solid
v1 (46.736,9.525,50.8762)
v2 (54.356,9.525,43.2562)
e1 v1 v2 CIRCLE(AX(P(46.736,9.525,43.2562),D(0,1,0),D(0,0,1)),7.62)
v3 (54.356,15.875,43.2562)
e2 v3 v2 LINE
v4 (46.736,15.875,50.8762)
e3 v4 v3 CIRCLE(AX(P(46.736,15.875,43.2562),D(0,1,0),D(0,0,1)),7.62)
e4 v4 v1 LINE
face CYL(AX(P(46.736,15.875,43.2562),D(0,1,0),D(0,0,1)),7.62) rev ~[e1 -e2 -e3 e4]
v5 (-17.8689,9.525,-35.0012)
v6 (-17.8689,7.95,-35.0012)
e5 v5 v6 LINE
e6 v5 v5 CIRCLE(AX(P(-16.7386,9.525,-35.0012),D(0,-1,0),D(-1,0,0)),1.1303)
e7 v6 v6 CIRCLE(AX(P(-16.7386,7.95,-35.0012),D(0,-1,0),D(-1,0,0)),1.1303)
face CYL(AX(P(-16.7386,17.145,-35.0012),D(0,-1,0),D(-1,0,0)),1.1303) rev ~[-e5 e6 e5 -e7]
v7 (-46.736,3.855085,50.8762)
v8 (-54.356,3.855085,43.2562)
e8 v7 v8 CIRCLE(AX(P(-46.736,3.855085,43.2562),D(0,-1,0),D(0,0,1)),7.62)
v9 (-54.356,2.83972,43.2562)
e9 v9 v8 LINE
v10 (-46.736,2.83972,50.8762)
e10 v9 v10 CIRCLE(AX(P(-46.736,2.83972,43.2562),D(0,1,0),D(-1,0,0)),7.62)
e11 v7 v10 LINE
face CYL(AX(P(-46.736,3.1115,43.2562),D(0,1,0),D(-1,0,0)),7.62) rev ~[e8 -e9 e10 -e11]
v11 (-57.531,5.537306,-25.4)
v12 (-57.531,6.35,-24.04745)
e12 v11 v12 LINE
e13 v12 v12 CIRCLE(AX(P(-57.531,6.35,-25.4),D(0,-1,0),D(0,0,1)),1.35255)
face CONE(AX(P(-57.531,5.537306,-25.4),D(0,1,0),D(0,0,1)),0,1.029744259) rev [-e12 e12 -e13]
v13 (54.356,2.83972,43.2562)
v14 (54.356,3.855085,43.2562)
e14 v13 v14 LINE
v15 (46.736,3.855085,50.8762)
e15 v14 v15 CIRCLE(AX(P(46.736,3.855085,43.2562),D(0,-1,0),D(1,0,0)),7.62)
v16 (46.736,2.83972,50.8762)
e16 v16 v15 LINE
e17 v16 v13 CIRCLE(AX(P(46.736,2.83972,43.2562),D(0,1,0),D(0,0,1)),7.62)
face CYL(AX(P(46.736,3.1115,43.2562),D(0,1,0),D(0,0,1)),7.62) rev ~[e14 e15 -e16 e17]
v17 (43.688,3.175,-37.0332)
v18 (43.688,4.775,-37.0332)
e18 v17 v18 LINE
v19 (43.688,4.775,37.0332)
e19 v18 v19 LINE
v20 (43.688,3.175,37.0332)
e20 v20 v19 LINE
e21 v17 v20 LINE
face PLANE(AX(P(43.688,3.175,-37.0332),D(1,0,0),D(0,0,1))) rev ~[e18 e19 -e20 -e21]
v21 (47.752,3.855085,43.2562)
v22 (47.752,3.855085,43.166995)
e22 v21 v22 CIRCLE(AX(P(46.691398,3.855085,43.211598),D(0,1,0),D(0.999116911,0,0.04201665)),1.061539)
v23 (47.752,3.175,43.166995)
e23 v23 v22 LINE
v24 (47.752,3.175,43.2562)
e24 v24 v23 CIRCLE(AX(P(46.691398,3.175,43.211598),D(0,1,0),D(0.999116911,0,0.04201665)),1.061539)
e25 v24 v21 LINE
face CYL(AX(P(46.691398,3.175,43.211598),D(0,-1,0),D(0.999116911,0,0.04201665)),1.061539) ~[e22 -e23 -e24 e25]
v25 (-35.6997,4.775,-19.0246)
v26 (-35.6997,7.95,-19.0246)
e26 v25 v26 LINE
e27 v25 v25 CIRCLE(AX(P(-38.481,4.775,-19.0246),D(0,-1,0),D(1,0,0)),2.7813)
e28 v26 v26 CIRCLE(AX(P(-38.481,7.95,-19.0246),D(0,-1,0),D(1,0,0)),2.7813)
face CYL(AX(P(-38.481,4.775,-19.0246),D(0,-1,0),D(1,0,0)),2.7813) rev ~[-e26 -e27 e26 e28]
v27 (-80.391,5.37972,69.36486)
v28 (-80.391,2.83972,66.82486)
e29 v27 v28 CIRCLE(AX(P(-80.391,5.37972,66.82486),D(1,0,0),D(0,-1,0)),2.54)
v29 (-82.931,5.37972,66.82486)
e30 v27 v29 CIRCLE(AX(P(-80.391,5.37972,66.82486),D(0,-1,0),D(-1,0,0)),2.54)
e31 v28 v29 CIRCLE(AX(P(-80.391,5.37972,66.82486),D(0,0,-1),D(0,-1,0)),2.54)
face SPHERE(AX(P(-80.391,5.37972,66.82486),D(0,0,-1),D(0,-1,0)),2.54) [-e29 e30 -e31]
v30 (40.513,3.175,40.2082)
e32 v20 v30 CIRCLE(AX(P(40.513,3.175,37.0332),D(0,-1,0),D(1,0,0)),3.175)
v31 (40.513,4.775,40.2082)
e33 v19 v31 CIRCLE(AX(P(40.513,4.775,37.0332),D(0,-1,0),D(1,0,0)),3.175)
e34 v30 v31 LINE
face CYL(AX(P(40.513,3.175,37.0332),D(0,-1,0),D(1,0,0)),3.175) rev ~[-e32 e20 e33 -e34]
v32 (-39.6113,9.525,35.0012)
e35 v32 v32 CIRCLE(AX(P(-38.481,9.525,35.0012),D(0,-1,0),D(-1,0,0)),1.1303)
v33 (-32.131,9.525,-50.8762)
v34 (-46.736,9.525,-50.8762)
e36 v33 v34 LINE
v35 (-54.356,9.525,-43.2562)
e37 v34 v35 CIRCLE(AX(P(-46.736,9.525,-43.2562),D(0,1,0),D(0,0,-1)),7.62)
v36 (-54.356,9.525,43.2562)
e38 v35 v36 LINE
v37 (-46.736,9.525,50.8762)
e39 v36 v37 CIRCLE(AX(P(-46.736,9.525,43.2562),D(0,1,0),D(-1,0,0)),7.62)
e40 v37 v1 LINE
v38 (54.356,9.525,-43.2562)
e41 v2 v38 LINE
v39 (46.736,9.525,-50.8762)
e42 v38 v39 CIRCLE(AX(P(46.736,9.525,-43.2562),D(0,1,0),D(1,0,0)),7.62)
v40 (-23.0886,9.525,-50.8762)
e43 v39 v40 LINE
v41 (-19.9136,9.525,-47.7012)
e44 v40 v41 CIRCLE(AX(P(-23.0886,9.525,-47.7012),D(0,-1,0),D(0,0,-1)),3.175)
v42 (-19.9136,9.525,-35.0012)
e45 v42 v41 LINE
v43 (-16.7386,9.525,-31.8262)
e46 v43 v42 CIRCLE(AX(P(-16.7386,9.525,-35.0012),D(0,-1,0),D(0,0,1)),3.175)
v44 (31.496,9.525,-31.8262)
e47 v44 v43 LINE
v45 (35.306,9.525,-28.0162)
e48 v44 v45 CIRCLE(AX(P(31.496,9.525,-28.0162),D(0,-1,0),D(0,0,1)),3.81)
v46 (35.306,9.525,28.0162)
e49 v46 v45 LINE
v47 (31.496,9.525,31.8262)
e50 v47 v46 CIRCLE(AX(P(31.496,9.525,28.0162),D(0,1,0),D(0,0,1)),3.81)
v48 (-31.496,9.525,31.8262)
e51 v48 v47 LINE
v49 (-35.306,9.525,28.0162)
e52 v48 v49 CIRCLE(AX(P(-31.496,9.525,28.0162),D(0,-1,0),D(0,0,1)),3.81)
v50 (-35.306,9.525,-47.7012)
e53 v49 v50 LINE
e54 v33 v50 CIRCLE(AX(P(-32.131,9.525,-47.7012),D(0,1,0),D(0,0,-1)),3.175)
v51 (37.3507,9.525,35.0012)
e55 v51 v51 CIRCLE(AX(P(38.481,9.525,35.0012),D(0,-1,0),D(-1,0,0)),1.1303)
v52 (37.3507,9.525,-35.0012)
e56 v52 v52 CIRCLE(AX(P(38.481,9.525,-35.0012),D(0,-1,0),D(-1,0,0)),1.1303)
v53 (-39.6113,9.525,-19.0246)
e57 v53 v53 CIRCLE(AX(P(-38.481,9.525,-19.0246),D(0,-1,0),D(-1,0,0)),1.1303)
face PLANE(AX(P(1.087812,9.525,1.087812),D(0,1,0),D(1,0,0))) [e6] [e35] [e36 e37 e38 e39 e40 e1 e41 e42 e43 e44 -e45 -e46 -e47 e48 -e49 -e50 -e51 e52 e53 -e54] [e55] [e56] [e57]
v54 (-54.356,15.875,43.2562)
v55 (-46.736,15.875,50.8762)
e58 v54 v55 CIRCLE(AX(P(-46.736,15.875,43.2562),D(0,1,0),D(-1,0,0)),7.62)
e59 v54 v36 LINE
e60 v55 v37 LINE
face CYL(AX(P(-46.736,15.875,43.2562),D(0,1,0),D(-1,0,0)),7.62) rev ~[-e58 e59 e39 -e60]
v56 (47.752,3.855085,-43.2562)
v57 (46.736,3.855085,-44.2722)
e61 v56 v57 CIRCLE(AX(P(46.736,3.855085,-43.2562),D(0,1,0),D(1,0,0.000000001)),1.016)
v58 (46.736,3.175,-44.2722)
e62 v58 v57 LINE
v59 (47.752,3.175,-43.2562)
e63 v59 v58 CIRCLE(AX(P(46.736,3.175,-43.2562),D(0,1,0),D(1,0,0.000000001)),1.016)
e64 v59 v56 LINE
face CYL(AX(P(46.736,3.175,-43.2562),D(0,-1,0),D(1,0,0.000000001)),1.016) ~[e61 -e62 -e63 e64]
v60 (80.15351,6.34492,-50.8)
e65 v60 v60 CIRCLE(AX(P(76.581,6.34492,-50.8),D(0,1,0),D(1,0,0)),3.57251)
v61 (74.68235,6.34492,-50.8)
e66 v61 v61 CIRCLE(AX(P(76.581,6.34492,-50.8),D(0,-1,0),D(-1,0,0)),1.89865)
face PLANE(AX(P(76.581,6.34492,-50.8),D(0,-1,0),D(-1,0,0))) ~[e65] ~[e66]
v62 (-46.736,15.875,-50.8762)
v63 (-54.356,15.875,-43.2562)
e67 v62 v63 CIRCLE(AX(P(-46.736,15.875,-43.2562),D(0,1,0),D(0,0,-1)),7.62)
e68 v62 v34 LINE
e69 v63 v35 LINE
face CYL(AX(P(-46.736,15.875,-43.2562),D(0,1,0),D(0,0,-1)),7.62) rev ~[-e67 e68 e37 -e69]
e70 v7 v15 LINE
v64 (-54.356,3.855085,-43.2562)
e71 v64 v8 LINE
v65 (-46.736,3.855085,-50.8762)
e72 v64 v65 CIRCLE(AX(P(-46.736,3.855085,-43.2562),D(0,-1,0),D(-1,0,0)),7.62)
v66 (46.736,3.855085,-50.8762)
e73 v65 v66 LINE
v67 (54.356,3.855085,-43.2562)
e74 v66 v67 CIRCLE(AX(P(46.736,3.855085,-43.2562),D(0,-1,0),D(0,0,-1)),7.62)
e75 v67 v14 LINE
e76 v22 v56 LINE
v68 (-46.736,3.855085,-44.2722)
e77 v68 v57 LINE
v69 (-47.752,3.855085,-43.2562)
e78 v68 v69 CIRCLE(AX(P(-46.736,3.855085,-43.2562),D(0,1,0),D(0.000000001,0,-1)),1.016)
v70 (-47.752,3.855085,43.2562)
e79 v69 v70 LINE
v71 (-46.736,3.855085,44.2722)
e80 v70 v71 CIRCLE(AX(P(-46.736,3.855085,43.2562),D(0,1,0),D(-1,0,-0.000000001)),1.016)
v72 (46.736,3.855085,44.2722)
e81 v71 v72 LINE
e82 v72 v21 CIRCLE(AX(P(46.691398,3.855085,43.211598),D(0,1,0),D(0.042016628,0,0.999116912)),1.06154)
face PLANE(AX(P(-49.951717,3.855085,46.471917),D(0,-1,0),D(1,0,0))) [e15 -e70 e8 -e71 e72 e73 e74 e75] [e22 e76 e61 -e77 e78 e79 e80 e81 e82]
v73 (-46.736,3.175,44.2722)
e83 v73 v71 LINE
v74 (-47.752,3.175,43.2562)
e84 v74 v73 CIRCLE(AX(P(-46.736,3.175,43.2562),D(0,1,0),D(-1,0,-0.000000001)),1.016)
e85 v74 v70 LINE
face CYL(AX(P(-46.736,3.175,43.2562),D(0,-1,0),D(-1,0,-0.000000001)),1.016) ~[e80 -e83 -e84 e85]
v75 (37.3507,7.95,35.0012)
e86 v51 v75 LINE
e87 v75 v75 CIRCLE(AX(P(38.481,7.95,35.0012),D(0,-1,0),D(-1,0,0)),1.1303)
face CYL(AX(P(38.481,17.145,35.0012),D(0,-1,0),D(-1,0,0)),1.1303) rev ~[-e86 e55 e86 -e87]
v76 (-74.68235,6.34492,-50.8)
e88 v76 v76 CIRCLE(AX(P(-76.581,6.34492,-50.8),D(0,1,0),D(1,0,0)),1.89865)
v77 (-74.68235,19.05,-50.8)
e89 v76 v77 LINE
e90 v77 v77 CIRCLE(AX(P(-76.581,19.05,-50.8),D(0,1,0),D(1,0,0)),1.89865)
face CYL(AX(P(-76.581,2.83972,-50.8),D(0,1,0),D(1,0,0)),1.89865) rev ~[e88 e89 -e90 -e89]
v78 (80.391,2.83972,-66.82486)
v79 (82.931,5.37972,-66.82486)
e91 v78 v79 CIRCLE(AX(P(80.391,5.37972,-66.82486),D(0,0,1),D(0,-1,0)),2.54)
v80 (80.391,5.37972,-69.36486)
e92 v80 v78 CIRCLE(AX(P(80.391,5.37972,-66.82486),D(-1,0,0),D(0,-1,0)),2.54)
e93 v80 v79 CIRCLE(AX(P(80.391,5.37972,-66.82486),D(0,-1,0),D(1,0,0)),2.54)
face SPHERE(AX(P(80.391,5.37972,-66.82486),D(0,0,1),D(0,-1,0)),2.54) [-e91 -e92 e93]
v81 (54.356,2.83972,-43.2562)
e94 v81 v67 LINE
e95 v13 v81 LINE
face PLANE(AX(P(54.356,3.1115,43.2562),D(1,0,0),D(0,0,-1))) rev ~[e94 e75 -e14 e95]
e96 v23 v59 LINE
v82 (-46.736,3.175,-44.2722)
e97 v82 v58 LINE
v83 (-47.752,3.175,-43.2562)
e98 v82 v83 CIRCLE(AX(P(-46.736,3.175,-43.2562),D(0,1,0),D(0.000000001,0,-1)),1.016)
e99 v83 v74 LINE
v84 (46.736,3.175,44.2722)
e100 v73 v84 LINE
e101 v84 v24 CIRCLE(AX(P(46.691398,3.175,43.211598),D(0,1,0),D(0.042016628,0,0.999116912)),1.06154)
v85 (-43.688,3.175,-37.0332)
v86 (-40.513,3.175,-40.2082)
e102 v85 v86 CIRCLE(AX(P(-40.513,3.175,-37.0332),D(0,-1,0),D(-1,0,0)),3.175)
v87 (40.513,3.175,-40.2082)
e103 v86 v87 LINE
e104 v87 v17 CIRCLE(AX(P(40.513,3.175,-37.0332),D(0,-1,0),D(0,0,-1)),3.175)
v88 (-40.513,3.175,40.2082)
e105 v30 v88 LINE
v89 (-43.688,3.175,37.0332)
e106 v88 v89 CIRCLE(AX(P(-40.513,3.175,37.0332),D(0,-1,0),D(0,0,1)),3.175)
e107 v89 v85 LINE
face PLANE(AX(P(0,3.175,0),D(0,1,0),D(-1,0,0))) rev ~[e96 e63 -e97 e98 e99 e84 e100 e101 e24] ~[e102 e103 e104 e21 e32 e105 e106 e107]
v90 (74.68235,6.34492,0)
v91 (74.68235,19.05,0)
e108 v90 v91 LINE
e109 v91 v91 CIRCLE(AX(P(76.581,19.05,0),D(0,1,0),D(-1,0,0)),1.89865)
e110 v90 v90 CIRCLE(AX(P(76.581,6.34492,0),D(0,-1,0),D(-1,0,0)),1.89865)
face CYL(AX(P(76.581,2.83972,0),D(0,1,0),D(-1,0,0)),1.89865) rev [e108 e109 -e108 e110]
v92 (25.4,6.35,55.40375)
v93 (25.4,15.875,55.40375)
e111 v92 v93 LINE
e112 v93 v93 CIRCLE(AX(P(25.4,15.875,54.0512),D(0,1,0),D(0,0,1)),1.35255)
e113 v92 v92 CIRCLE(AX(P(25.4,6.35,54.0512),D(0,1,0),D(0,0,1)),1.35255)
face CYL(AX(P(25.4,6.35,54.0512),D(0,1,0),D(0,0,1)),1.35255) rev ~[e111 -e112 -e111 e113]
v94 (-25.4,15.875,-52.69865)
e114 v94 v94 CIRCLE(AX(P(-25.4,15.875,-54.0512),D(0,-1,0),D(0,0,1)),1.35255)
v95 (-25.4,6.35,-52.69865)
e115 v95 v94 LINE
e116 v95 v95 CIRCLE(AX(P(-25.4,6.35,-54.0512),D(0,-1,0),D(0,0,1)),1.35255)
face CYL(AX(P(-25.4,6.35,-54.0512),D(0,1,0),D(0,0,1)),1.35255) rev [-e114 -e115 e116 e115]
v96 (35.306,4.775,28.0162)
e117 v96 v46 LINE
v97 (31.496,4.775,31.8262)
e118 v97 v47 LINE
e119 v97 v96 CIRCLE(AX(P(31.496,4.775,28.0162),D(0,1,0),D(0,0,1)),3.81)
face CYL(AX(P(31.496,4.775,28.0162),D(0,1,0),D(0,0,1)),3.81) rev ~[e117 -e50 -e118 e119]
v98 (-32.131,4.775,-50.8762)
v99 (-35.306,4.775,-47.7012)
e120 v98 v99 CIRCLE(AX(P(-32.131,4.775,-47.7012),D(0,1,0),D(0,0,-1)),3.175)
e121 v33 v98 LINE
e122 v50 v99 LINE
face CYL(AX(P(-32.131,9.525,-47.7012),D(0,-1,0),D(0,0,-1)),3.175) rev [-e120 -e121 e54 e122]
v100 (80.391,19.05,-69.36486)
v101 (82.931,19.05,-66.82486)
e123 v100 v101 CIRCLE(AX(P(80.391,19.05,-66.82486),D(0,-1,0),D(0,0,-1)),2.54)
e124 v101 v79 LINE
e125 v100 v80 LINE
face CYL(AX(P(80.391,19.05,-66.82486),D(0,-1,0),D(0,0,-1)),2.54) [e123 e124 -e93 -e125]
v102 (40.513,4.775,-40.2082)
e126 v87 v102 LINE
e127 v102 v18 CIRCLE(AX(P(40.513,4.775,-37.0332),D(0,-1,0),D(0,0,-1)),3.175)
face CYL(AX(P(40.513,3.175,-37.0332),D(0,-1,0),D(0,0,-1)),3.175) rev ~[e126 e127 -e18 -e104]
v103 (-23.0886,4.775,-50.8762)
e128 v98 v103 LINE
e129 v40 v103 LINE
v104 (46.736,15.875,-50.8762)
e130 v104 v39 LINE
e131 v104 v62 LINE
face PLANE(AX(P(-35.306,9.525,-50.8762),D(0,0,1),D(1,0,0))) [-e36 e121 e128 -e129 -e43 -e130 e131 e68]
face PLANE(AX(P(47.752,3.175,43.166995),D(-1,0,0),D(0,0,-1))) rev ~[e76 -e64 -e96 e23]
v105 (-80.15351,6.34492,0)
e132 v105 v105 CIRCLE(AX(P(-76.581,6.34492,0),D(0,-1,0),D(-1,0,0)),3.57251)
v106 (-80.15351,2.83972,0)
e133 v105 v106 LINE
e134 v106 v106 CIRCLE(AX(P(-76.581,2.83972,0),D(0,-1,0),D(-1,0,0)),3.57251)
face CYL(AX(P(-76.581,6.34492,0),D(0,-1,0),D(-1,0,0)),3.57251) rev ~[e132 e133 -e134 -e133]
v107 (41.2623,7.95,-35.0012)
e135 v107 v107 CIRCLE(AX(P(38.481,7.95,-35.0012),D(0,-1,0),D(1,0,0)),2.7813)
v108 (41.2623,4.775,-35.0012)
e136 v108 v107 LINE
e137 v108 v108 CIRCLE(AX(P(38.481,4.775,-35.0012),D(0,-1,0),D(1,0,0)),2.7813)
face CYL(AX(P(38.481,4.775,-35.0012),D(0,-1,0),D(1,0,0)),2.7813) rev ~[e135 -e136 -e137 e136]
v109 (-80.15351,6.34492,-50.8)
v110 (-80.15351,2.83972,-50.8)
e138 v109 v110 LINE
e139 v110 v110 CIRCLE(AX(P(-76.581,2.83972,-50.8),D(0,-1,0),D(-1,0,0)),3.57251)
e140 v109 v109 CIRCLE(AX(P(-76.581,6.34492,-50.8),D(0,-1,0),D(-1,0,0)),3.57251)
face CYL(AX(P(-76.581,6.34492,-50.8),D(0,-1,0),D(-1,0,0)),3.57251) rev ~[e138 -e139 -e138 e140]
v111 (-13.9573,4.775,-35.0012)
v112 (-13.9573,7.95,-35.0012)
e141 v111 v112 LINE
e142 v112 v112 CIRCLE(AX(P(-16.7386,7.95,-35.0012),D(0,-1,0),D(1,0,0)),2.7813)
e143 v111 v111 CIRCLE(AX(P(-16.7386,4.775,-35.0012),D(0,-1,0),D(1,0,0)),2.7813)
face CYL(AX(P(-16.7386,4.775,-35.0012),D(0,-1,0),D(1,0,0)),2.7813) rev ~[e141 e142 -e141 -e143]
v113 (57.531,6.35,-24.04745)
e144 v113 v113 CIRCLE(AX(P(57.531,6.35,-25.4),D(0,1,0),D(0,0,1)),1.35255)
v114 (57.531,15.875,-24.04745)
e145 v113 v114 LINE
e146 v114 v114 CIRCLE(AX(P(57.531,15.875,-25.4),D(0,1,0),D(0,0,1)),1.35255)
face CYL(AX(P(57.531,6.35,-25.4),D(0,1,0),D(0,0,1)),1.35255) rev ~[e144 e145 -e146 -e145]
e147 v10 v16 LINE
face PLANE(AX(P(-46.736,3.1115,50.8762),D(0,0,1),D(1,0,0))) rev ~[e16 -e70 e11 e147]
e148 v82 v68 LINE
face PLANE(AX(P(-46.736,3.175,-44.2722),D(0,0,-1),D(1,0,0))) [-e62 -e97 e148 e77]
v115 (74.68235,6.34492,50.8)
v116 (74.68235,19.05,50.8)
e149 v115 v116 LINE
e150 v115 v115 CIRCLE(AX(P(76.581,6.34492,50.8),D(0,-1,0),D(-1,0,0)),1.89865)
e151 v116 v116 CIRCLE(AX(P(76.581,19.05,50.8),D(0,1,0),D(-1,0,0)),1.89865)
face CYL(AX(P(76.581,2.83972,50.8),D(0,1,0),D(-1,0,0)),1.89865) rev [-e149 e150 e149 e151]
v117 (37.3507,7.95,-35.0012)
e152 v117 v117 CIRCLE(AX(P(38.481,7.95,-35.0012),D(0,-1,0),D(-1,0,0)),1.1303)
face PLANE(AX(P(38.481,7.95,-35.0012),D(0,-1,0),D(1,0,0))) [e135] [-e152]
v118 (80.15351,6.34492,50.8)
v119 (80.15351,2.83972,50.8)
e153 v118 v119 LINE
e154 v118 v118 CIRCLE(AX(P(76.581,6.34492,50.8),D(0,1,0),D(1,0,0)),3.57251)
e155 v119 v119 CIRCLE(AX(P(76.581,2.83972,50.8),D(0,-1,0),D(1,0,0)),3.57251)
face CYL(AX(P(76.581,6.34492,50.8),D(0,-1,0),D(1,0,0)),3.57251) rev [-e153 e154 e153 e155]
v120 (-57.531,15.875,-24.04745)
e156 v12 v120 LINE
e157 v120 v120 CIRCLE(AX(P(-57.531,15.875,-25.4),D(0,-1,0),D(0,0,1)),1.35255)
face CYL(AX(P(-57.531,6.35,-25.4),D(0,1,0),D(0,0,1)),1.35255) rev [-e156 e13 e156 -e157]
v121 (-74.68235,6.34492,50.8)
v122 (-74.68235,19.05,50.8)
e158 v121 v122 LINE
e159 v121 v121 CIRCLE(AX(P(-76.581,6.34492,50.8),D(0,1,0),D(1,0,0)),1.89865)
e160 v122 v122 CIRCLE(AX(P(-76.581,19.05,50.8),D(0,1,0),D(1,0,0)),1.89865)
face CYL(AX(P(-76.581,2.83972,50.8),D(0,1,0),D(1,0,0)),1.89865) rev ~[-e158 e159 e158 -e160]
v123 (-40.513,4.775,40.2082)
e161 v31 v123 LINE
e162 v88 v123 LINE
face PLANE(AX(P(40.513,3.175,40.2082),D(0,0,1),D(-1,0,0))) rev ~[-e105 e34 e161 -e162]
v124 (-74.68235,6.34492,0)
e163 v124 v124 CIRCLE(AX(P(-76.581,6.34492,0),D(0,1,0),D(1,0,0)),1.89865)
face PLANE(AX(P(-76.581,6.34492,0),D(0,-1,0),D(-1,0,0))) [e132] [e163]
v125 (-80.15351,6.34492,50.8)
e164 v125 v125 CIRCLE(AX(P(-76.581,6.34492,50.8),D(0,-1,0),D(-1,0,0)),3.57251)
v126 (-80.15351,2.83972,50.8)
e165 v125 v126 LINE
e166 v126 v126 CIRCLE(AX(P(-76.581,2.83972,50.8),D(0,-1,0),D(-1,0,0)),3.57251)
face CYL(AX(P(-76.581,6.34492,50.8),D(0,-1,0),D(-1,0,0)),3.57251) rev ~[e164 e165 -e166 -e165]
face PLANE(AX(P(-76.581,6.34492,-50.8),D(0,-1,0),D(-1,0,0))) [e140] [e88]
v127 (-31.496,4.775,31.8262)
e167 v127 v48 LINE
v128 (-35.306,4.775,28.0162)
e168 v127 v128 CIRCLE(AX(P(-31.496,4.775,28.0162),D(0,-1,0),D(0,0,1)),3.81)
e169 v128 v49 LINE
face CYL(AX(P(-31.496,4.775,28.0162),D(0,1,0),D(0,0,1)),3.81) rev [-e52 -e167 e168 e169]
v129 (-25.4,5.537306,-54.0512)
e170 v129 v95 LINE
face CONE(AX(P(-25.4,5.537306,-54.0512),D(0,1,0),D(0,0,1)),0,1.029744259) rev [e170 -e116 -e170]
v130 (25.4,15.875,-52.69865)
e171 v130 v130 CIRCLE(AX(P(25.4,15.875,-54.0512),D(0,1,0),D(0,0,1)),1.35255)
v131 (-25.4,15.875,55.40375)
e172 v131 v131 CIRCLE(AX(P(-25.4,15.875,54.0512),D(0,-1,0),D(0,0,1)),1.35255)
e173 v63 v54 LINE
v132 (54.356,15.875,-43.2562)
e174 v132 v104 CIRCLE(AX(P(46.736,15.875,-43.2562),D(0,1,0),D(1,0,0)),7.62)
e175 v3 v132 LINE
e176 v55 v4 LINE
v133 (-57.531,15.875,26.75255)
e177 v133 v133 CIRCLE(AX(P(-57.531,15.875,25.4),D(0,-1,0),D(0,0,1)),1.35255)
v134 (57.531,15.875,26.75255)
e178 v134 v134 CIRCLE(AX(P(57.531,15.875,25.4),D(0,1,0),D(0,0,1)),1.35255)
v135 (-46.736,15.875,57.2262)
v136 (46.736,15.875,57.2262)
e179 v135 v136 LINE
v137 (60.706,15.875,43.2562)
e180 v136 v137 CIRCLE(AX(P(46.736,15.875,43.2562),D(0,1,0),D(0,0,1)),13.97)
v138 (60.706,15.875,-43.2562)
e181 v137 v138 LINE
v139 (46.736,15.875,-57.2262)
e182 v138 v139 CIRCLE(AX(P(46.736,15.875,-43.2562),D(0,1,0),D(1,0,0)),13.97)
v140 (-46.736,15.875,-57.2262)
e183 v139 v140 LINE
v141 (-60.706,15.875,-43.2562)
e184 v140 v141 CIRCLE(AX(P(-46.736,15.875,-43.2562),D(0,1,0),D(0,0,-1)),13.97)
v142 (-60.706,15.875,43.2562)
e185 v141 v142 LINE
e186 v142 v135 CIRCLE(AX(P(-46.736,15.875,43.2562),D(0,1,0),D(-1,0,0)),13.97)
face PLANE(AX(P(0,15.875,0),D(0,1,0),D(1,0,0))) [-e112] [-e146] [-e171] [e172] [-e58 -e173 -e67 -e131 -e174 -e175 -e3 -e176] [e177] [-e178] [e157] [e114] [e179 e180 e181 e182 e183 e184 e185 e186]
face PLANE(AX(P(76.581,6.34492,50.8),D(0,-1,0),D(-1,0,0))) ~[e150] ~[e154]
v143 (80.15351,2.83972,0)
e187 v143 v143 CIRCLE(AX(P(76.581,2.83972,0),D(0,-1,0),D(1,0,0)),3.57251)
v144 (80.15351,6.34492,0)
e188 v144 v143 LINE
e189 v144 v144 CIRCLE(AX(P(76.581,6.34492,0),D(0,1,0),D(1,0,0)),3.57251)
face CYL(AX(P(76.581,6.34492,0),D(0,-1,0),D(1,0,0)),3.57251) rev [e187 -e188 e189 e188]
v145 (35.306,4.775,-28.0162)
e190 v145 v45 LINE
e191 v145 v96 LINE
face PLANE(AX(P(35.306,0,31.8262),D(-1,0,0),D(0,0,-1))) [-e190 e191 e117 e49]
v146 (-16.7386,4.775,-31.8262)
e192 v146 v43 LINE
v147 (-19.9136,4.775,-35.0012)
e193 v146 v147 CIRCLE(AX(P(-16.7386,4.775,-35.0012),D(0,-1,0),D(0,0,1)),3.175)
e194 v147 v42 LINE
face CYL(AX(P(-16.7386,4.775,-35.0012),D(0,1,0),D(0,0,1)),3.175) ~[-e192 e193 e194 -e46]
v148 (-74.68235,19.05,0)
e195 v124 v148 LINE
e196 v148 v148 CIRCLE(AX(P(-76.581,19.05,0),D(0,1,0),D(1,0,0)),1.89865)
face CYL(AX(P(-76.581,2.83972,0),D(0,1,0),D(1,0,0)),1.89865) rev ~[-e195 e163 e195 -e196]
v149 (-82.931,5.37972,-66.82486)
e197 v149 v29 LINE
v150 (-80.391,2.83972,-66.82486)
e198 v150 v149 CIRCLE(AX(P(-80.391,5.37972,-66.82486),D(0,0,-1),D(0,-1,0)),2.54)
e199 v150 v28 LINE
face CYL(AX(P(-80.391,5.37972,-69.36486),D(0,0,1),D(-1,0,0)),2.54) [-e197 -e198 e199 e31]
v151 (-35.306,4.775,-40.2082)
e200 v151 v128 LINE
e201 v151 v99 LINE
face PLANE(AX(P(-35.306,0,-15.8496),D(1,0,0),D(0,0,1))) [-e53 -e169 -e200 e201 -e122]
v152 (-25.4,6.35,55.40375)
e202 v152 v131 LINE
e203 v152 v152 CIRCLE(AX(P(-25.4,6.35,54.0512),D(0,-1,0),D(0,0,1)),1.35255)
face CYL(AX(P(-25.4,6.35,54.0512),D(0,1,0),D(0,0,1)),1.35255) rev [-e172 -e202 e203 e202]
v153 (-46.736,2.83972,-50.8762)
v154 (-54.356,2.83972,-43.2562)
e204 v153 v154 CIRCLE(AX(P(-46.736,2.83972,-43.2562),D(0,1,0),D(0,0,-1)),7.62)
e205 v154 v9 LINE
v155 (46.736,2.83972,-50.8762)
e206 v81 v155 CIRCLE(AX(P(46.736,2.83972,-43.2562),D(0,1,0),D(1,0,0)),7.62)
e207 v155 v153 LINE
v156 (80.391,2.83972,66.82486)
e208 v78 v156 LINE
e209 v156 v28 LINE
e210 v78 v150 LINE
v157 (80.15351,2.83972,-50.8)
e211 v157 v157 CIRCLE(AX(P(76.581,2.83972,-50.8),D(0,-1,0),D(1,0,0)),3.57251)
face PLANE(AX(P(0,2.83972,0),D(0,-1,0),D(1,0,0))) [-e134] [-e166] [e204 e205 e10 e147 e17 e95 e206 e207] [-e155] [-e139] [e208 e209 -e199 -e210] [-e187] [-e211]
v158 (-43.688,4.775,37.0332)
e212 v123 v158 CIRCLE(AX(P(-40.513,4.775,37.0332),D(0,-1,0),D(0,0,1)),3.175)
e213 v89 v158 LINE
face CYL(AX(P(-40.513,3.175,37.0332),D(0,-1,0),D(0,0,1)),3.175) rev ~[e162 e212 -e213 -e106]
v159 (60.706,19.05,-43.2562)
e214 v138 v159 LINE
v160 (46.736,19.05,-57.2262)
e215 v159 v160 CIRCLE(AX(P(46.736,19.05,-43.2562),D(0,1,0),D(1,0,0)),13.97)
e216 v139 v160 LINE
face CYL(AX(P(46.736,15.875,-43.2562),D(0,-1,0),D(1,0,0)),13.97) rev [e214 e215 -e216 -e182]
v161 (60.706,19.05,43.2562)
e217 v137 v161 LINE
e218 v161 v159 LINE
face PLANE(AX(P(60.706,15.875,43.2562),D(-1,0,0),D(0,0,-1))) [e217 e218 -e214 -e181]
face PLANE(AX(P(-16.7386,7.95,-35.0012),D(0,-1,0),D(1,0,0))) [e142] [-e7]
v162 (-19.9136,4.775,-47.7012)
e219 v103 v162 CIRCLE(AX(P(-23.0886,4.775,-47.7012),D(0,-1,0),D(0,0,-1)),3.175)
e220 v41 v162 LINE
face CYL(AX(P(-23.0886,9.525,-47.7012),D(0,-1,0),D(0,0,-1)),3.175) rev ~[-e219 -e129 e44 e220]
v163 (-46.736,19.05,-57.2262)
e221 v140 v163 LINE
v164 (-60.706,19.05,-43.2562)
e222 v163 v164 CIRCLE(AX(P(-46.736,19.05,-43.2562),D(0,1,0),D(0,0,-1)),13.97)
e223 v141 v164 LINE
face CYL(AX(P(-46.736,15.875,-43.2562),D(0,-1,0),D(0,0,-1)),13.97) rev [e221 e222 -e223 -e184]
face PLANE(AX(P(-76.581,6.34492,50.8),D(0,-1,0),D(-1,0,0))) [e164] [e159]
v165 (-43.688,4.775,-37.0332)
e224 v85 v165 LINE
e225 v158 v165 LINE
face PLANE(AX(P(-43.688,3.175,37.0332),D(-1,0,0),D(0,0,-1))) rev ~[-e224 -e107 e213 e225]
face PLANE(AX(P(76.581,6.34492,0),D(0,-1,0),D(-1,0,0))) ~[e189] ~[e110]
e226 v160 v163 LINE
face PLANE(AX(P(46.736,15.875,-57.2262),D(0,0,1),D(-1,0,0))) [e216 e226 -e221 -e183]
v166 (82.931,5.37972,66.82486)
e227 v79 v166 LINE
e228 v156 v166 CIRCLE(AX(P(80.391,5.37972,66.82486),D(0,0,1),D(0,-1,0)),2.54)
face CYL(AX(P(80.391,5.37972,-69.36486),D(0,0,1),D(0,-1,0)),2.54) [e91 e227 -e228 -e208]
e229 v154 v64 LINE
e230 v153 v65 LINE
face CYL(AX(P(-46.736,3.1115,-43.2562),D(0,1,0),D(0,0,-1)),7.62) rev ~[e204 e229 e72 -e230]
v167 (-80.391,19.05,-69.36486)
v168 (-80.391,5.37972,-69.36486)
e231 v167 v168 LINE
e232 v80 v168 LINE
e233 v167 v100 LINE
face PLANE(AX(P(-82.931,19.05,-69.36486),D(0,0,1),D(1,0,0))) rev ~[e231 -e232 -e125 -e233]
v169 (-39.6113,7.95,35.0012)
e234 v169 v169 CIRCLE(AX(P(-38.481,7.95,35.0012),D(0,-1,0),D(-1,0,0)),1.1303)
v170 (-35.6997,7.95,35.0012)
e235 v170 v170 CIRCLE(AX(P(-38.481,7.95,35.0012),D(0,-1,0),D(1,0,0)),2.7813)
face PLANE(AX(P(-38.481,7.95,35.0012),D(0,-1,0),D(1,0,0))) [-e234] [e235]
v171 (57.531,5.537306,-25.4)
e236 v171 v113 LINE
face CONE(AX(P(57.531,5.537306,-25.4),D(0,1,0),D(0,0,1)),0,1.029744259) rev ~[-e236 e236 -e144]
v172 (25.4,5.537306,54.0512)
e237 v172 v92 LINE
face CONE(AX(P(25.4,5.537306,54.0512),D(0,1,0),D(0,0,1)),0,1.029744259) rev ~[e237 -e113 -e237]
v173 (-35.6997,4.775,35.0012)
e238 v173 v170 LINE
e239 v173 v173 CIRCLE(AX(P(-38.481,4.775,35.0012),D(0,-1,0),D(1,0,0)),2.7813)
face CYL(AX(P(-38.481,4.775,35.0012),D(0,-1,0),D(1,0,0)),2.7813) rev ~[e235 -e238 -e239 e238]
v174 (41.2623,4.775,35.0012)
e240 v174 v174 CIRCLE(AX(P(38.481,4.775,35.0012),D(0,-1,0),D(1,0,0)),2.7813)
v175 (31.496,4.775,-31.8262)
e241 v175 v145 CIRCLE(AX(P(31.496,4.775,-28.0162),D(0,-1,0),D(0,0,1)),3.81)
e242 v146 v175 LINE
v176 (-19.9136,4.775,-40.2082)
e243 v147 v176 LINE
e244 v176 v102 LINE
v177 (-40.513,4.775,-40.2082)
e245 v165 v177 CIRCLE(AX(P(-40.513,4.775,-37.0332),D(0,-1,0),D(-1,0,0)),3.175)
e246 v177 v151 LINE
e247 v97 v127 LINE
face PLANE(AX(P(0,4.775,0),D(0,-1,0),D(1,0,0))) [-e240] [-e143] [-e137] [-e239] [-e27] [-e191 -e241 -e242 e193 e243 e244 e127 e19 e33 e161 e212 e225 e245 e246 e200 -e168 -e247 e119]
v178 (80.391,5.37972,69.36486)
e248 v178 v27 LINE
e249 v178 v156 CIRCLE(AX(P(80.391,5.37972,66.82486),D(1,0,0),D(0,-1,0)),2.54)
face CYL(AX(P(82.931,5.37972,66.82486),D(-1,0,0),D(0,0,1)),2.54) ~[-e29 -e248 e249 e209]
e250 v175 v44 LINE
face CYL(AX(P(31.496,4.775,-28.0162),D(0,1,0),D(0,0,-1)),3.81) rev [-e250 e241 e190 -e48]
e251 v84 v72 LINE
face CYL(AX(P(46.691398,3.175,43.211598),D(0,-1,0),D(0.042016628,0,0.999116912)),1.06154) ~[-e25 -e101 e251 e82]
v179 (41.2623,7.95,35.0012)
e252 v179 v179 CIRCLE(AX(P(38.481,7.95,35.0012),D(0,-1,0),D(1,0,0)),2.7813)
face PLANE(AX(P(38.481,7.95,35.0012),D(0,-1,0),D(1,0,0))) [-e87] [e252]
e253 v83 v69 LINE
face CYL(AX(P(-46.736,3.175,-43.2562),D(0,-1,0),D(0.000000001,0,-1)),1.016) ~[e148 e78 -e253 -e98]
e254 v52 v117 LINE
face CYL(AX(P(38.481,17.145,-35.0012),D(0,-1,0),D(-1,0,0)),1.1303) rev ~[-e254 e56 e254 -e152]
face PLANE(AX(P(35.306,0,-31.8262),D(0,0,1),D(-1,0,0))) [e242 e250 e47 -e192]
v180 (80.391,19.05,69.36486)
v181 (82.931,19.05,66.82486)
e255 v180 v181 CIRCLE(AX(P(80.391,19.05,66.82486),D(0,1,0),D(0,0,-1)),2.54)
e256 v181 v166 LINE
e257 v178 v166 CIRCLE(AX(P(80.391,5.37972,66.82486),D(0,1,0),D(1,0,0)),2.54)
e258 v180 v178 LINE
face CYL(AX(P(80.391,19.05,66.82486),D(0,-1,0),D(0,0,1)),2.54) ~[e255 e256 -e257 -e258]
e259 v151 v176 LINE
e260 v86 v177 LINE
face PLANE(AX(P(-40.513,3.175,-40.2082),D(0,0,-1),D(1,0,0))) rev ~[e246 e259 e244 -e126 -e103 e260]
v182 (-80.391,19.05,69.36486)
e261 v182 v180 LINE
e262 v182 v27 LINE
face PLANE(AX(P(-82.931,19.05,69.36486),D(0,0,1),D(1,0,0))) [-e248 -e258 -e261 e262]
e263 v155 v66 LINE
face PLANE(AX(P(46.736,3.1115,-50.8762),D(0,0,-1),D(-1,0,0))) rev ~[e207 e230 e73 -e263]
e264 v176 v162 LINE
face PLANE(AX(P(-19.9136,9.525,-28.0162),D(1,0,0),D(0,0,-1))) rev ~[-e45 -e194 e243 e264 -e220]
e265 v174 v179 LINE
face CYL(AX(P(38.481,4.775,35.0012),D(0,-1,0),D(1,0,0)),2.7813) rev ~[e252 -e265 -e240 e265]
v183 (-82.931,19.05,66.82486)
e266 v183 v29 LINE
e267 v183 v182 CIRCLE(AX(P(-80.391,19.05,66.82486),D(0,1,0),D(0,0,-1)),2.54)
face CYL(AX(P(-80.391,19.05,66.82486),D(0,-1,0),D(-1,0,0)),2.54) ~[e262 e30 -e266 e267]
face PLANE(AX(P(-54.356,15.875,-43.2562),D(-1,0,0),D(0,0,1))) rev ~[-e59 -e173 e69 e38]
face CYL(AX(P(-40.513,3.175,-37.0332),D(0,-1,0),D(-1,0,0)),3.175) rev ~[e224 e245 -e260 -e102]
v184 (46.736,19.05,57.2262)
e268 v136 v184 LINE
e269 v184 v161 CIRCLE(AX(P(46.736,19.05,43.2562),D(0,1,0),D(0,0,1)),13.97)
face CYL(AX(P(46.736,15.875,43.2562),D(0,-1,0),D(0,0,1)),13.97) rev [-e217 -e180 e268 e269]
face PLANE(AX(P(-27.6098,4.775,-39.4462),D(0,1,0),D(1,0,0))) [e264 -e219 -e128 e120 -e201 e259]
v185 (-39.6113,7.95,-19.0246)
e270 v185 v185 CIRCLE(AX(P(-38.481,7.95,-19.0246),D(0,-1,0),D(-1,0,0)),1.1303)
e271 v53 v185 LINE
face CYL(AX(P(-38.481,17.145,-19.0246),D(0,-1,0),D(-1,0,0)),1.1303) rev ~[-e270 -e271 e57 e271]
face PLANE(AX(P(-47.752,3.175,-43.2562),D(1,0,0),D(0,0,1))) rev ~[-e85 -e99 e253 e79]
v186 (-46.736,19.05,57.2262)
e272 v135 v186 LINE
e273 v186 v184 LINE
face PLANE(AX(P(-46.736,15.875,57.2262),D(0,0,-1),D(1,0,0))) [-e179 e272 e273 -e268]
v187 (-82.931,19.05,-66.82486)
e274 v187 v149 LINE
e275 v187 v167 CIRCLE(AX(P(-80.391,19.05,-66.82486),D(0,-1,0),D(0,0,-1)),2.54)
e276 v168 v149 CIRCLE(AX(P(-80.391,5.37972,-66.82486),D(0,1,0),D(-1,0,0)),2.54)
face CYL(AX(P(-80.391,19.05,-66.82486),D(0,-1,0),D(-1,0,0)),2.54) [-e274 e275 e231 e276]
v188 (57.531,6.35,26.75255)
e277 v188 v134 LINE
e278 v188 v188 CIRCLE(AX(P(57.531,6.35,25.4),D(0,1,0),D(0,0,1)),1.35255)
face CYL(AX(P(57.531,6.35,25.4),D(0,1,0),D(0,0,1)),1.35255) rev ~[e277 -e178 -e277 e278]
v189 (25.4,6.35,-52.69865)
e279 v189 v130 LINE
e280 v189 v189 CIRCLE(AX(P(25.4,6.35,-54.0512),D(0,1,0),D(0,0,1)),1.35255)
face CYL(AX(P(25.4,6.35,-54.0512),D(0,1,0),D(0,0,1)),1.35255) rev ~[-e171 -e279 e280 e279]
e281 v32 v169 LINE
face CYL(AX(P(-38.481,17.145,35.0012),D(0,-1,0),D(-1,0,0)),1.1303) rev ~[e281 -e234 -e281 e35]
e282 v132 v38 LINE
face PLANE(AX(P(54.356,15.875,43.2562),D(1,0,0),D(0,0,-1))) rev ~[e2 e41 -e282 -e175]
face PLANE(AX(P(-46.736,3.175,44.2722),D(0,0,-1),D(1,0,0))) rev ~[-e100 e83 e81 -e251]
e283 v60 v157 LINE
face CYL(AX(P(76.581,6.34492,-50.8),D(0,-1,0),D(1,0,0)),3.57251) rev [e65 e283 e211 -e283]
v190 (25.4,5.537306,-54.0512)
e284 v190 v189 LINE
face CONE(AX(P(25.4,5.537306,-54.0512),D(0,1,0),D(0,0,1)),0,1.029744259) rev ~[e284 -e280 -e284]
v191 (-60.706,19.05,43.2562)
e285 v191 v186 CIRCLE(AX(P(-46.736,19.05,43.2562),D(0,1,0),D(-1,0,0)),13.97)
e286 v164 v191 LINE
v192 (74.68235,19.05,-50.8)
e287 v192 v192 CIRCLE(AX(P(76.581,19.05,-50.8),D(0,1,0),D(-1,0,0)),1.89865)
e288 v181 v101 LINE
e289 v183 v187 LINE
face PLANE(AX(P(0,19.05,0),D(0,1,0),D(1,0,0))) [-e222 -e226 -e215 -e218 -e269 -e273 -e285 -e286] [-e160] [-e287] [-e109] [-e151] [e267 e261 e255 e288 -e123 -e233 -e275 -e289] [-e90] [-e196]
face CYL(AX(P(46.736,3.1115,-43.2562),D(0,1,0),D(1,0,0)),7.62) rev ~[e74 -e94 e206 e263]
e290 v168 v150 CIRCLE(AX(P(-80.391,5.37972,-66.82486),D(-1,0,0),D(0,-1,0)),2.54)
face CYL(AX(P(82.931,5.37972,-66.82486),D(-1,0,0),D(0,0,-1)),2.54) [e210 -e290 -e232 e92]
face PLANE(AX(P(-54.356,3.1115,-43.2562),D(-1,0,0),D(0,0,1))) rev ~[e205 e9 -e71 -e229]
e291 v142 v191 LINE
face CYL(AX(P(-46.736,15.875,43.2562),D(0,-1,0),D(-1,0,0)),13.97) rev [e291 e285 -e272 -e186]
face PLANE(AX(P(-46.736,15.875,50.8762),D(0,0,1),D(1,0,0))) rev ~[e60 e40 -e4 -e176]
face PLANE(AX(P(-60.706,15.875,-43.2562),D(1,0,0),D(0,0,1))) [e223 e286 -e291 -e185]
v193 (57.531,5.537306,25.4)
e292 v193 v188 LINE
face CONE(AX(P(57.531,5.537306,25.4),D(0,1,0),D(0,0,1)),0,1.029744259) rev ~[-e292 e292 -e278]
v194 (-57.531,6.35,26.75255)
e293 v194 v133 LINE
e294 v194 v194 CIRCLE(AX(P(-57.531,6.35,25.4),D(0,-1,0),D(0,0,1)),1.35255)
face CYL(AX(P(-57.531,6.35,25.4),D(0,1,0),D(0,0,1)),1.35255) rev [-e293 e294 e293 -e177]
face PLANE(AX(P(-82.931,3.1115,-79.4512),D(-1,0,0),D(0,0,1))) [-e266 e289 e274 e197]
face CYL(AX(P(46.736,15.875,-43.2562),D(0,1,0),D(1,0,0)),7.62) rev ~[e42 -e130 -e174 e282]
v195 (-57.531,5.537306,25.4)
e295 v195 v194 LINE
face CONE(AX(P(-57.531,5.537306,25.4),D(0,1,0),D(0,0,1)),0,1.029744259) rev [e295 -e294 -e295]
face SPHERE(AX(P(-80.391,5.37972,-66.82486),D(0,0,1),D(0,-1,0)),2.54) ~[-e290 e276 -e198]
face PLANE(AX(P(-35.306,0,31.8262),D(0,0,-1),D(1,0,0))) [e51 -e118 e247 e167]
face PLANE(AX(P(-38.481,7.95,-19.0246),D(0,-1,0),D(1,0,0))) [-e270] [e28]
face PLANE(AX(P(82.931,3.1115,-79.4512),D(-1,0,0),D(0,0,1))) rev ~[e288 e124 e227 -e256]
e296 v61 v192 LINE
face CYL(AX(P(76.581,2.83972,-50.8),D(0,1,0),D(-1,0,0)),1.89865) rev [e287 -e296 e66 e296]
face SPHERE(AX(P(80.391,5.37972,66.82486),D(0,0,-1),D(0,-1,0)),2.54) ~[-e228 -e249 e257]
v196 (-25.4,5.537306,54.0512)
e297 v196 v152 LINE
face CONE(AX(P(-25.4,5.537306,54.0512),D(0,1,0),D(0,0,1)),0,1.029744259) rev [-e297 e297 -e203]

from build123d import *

# Parameters (mm, degrees)
SKETCH2_W                                      = 146.812
SKETCH2_H                                      = 139.8524
SKETCH2_W_2                                    = 83.312
SKETCH2_H_2                                    = 76.3524
SKETCH2_W_3                                    = 21.7424
SKETCH2_H_3                                    = 15.9766
BOSS_EXTRUDE1_DEPTH                            = 15.875
BOSS_EXTRUDE2_DEPTH                            = 9.525
CUT_EXTRUDE2_DEPTH                             = 3.175
M2_5X0_45_TAPPED_HOLE1_D                       = 2.05
M2_5X0_45_TAPPED_HOLE1_DEPTH                   = 6.35
M2_5X0_45_TAPPED_HOLE1_TIP                     = 0.615882135
CUT_EXTRUDE3_DEPTH                             = 6.35
CUT_EXTRUDE4_DEPTH                             = 1.6
SKETCH12_W                                     = 70.612
SKETCH12_H                                     = 63.6524
CUT_EXTRUDE5_DEPTH                             = 12.1
FILLET1_R                                      = 3.81
SKETCH13_W                                     = 146.812
SKETCH13_H                                     = 139.8524
CUT_EXTRUDE6_DEPTH                             = 1.5875
SKETCH14_W                                     = 15.3924
SKETCH14_H                                     = 22.86
CUT_EXTRUDE7_DEPTH                             = 4.75
FILLET3_R                                      = 3.175
SKETCH15_W                                     = 146.812
SKETCH15_H                                     = 139.8524
BOSS_EXTRUDE3_DEPTH                            = 3.175
F_6_32_TAPPED_HOLE1_AT_2_COUNT                 = 2
F_6_32_TAPPED_HOLE1_AT_2_PITCH                 = 108.1024
F_6_32_TAPPED_HOLE1_AT_3_COUNT                 = 2
F_6_32_TAPPED_HOLE1_AT_3_PITCH                 = 85.702359025
F_6_32_TAPPED_HOLE1_AT_4_COUNT                 = 2
F_6_32_TAPPED_HOLE1_AT_4_PITCH                 = 43.049882955
SKETCH19_R                                     = 2.7813
CUT_EXTRUDE8_DEPTH                             = 3.175
F_4_40_TAPPED_HOLE1_D                          = 2.2606
F_4_40_TAPPED_HOLE1_DEPTH                      = 7.62
F_4_40_TAPPED_HOLE1_TIP                        = 0.679152758
SKETCH22_W                                     = 146.812
SKETCH22_H                                     = 139.8524
CUT_EXTRUDE9_DEPTH                             = 1.524
SKETCH23_W                                     = 93.472
SKETCH23_H                                     = 6.604
SKETCH23_W_2                                   = 6.604
SKETCH23_H_2                                   = 86.5124
CUT_EXTRUDE10_DEPTH                            = 0.680085
SKETCH29_W                                     = 165.862
SKETCH29_H                                     = 158.9024
SKETCH29_W_2                                   = 146.812
SKETCH29_H_2                                   = 139.8524
BOSS_EXTRUDE4_DEPTH                            = 15.9385
SKETCH30_W                                     = 165.862
SKETCH30_H                                     = 158.9024
BOSS_EXTRUDE5_DEPTH                            = 0.27178
SKETCH34_W                                     = 165.862
SKETCH34_H                                     = 10.08634
CUT_EXTRUDE12_DEPTH                            = 17.21028
FILLET4_R                                      = 2.54
CBORE_FOR_6_SOCKET_HEAD_CAP_SCREW1_D           = 3.7973
CBORE_FOR_6_SOCKET_HEAD_CAP_SCREW1_CBORE_D     = 7.14502
CBORE_FOR_6_SOCKET_HEAD_CAP_SCREW1_CBORE_DEPTH = 3.5052


with BuildPart() as part:
    # Sketch2 → Boss-Extrude1 (new body)
    with BuildSketch(Plane(origin=(0, 0, 0), x_dir=(1, 0, 0), z_dir=(0, 1, 0))):
        Rectangle(SKETCH2_W, SKETCH2_H)
        Rectangle(SKETCH2_W_2, SKETCH2_H_2, mode=Mode.SUBTRACT)
        with Locations((-30.7848, 30.1879)):
            Rectangle(SKETCH2_W_3, SKETCH2_H_3)
    extrude(amount=BOSS_EXTRUDE1_DEPTH)

    # Sketch4 → Boss-Extrude2 (add)
    with BuildSketch(Plane(origin=(0, 0, 0), x_dir=(1, 0, 0), z_dir=(0, 1, 0))):
        Polygon((41.656, -38.1762), (41.656, 38.1762), (-19.9136, 38.1762), (-19.9136, 22.1996), (-41.656, 22.1996), (-41.656, -38.1762), align=None)
        Polygon((35.306, 31.8262), (-13.5636, 31.8262), (-13.5636, 15.8496), (-35.306, 15.8496), (-35.306, -31.8262), (35.306, -31.8262), align=None, mode=Mode.SUBTRACT)
    extrude(amount=BOSS_EXTRUDE2_DEPTH)

    # Sketch5 → Cut-Extrude2 (cut)
    with BuildSketch(Plane.XZ):
        with BuildLine():
            Line((46.736, -50.8762), (-46.736, -50.8762))
            ThreePointArc((-46.736, -50.8762), (-52.124153673, -48.644353673), (-54.356, -43.2562))
            Line((-54.356, -43.2562), (-54.356, 43.2562))
            ThreePointArc((-54.356, 43.2562), (-52.124153673, 48.644353673), (-46.736, 50.8762))
            Line((-46.736, 50.8762), (46.736, 50.8762))
            ThreePointArc((46.736, 50.8762), (52.124153673, 48.644353673), (54.356, 43.2562))
            Line((54.356, 43.2562), (54.356, -43.2562))
            ThreePointArc((54.356, -43.2562), (52.124153673, -48.644353673), (46.736, -50.8762))
        make_face()
    extrude(amount=-CUT_EXTRUDE2_DEPTH, mode=Mode.SUBTRACT)

    # M2.5x0.45 Tapped Hole1
    with Locations(Plane(origin=(0, 3.175, 0), x_dir=(-1, 0, 0), z_dir=(0, -1, 0))):
        with Locations((38.481, -35.0012), (-38.481, -35.0012), (38.481, 19.0246), (16.7386, 35.0012), (-38.481, 35.0012)):
            Hole(M2_5X0_45_TAPPED_HOLE1_D / 2, depth=M2_5X0_45_TAPPED_HOLE1_DEPTH)
            with Locations((0, 0, -(M2_5X0_45_TAPPED_HOLE1_DEPTH + M2_5X0_45_TAPPED_HOLE1_TIP / 2))):  # 118° drill point
                Cone(0, M2_5X0_45_TAPPED_HOLE1_D / 2, M2_5X0_45_TAPPED_HOLE1_TIP, mode=Mode.SUBTRACT)

    # Sketch10 → Cut-Extrude3 (cut)
    with BuildSketch(Plane(origin=(0, 15.875, 0), x_dir=(1, 0, 0), z_dir=(0, 1, 0))):
        with BuildLine():
            Line((54.356, -43.2562), (54.356, 43.2562))
            ThreePointArc((54.356, 43.2562), (52.124153673, 48.644353673), (46.736, 50.8762))
            Line((46.736, 50.8762), (-46.736, 50.8762))
            ThreePointArc((-46.736, 50.8762), (-52.124153673, 48.644353673), (-54.356, 43.2562))
            Line((-54.356, 43.2562), (-54.356, -43.2562))
            ThreePointArc((-54.356, -43.2562), (-52.124153673, -48.644353673), (-46.736, -50.8762))
            Line((-46.736, -50.8762), (46.736, -50.8762))
            ThreePointArc((46.736, -50.8762), (52.124153673, -48.644353673), (54.356, -43.2562))
        make_face()
    extrude(amount=-CUT_EXTRUDE3_DEPTH, mode=Mode.SUBTRACT)

    # Sketch11 → Cut-Extrude4 (cut)
    with BuildSketch(Plane.XZ.offset(-3.175)):
        with BuildLine():
            Line((40.513, 40.2082), (-40.513, 40.2082))
            ThreePointArc((-40.513, 40.2082), (-42.75806403, 39.27826403), (-43.688, 37.0332))
            Line((-43.688, 37.0332), (-43.688, -37.0332))
            ThreePointArc((-43.688, -37.0332), (-42.75806403, -39.27826403), (-40.513, -40.2082))
            Line((-40.513, -40.2082), (40.513, -40.2082))
            ThreePointArc((40.513, -40.2082), (42.75806403, -39.27826403), (43.688, -37.0332))
            Line((43.688, -37.0332), (43.688, 37.0332))
            ThreePointArc((43.688, 37.0332), (42.75806403, 39.27826403), (40.513, 40.2082))
        make_face()
    extrude(amount=-CUT_EXTRUDE4_DEPTH, mode=Mode.SUBTRACT)

    # Sketch12 → Cut-Extrude5 (cut, through all)
    with BuildSketch(Plane.XZ.offset(-4.775)):
        Rectangle(SKETCH12_W, SKETCH12_H)
    extrude(amount=-CUT_EXTRUDE5_DEPTH, mode=Mode.SUBTRACT)

    # Fillet1
    fillet1_edges = [part.edges().sort_by_distance(p)[0] for p in [
        (-35.306, 7.15, -31.8262),
        (35.306, 7.15, -31.8262),
        (-35.306, 7.15, 31.8262),
        (35.306, 7.15, 31.8262),
    ]]
    fillet(fillet1_edges, radius=FILLET1_R)

    # Sketch13 → Cut-Extrude6 (cut)
    with BuildSketch(Plane.XZ):
        Rectangle(SKETCH13_W, SKETCH13_H)
        with BuildLine():
            Line((54.356, -43.2562), (54.356, 43.2562))
            ThreePointArc((54.356, 43.2562), (52.124153673, 48.644353673), (46.736, 50.8762))
            Line((46.736, 50.8762), (-46.736, 50.8762))
            ThreePointArc((-46.736, 50.8762), (-52.124153673, 48.644353673), (-54.356, 43.2562))
            Line((-54.356, 43.2562), (-54.356, -43.2562))
            ThreePointArc((-54.356, -43.2562), (-52.124153673, -48.644353673), (-46.736, -50.8762))
            Line((-46.736, -50.8762), (46.736, -50.8762))
            ThreePointArc((46.736, -50.8762), (52.124153673, -48.644353673), (54.356, -43.2562))
        make_face(mode=Mode.SUBTRACT)
    extrude(amount=-CUT_EXTRUDE6_DEPTH, mode=Mode.SUBTRACT)

    # Sketch14 → Cut-Extrude7 (cut)
    with BuildSketch(Plane(origin=(0, 9.525, 0), x_dir=(1, 0, 0), z_dir=(0, 1, 0))):
        with Locations((-27.6098, 39.4462)):
            Rectangle(SKETCH14_W, SKETCH14_H)
    extrude(amount=-CUT_EXTRUDE7_DEPTH, mode=Mode.SUBTRACT)

    # Fillet3
    fillet3_edges = [part.edges().sort_by_distance(p)[0] for p in [
        (-19.9136, 7.15, -31.8262),
        (-19.9136, 7.15, -50.8762),
        (-35.306, 7.15, -50.8762),
    ]]
    fillet(fillet3_edges, radius=FILLET3_R)

    # Sketch15 → Boss-Extrude3 (add)
    with BuildSketch(Plane(origin=(0, 15.875, 0), x_dir=(1, 0, 0), z_dir=(0, 1, 0))):
        Rectangle(SKETCH15_W, SKETCH15_H)
        with BuildLine():
            ThreePointArc((46.736, -57.2262), (56.614281733, -53.134481733), (60.706, -43.2562))
            Line((60.706, -43.2562), (60.706, 43.2562))
            ThreePointArc((60.706, 43.2562), (56.614281733, 53.134481733), (46.736, 57.2262))
            Line((46.736, 57.2262), (-46.736, 57.2262))
            ThreePointArc((-46.736, 57.2262), (-56.614281733, 53.134481733), (-60.706, 43.2562))
            Line((-60.706, 43.2562), (-60.706, -43.2562))
            ThreePointArc((-60.706, -43.2562), (-56.614281733, -53.134481733), (-46.736, -57.2262))
            Line((-46.736, -57.2262), (46.736, -57.2262))
        make_face(mode=Mode.SUBTRACT)
    extrude(amount=BOSS_EXTRUDE3_DEPTH)

    # Sketch18 → #6-32 Tapped Hole1 (revolve, cut)
    with BuildSketch(Plane(origin=(-25.4, 15.875, 54.0512), x_dir=(0, 0, 1), z_dir=(1, 0, 0))):
        Polygon((0, 0), (0, 10.33769403), (1.35255, 9.525), (1.35255, 0), align=None)
    f_6_32_tapped_hole1 = revolve(axis=Axis((-25.4, 22.225, 54.0512), (0, -1, 0)), mode=Mode.SUBTRACT)

    # #6-32 Tapped Hole1 at 2: #6-32 Tapped Hole1 ×2
    with Locations(*[(0, 0, -i * F_6_32_TAPPED_HOLE1_AT_2_PITCH) for i in range(1, F_6_32_TAPPED_HOLE1_AT_2_COUNT)]):
        add(f_6_32_tapped_hole1, mode=Mode.SUBTRACT)

    # #6-32 Tapped Hole1 at 3: #6-32 Tapped Hole1 ×2
    with Locations(*[Vector(-0.374913834, 0, -0.927059662) * (i * F_6_32_TAPPED_HOLE1_AT_3_PITCH) for i in range(1, F_6_32_TAPPED_HOLE1_AT_3_COUNT)]):
        add(f_6_32_tapped_hole1, mode=Mode.SUBTRACT)

    # #6-32 Tapped Hole1 at 4: #6-32 Tapped Hole1 ×2
    with Locations(*[Vector(-0.746366721, 0, -0.665534911) * (i * F_6_32_TAPPED_HOLE1_AT_4_PITCH) for i in range(1, F_6_32_TAPPED_HOLE1_AT_4_COUNT)]):
        add(f_6_32_tapped_hole1, mode=Mode.SUBTRACT)

    # Mirror1: #6-32 Tapped Hole1 across plane
    add(f_6_32_tapped_hole1.mirror(Plane(origin=(0, 0, 0), x_dir=(0, 0, 1), z_dir=(1, 0, 0))), mode=Mode.SUBTRACT)

    # Mirror1 copy 1 sketch → Mirror1 copy 1 (revolve, cut)
    with BuildSketch(Plane(origin=(25.4, 15.875, -54.0512), x_dir=(0, 0, 1), z_dir=(-1, 0, 0))):
        Polygon((0, 0), (0, -10.33769403), (1.35255, -9.525), (1.35255, 0), align=None)
    revolve(axis=Axis((25.4, 22.225, -54.0512), (0, 1, 0)), mode=Mode.SUBTRACT)

    # Mirror1 copy 2 sketch → Mirror1 copy 2 (revolve, cut)
    with BuildSketch(Plane(origin=(57.531, 15.875, -25.4), x_dir=(0, 0, 1), z_dir=(-1, 0, 0))):
        Polygon((0, 0), (0, -10.33769403), (1.35255, -9.525), (1.35255, 0), align=None)
    revolve(axis=Axis((57.531, 22.225, -25.4), (0, 1, 0)), mode=Mode.SUBTRACT)

    # Mirror1 copy 3 sketch → Mirror1 copy 3 (revolve, cut)
    with BuildSketch(Plane(origin=(57.531, 15.875, 25.4), x_dir=(0, 0, 1), z_dir=(-1, 0, 0))):
        Polygon((0, 0), (0, -10.33769403), (1.35255, -9.525), (1.35255, 0), align=None)
    revolve(axis=Axis((57.531, 22.225, 25.4), (0, 1, 0)), mode=Mode.SUBTRACT)

    # Sketch19 → Cut-Extrude8 (cut)
    with BuildSketch(Plane.XZ.offset(-4.775)):
        with Locations((38.481, 35.0012)):
            Circle(SKETCH19_R)
        with Locations((38.481, -35.0012)):
            Circle(SKETCH19_R)
        with Locations((-38.481, 35.0012)):
            Circle(SKETCH19_R)
        with Locations((-38.481, -19.0246)):
            Circle(SKETCH19_R)
        with Locations((-16.7386, -35.0012)):
            Circle(SKETCH19_R)
    extrude(amount=-CUT_EXTRUDE8_DEPTH, mode=Mode.SUBTRACT)

    # #4-40 Tapped Hole1
    with Locations(Plane(origin=(0, 9.525, 0), x_dir=(1, 0, 0), z_dir=(0, 1, 0))):
        with Locations((-38.481, 19.0246), (-16.7386, 35.0012), (38.481, 35.0012), (38.481, -35.0012), (-38.481, -35.0012)):
            Hole(F_4_40_TAPPED_HOLE1_D / 2, depth=F_4_40_TAPPED_HOLE1_DEPTH)
            with Locations((0, 0, -(F_4_40_TAPPED_HOLE1_DEPTH + F_4_40_TAPPED_HOLE1_TIP / 2))):  # 118° drill point
                Cone(0, F_4_40_TAPPED_HOLE1_D / 2, F_4_40_TAPPED_HOLE1_TIP, mode=Mode.SUBTRACT)

    # Sketch22 → Cut-Extrude9 (cut)
    with BuildSketch(Plane.XZ.offset(-1.5875)):
        Rectangle(SKETCH22_W, SKETCH22_H)
    extrude(amount=-CUT_EXTRUDE9_DEPTH, mode=Mode.SUBTRACT)

    # Sketch23 → Cut-Extrude10 (cut)
    with BuildSketch(Plane.XZ.offset(-3.175)):
        with BuildLine():
            Line((-54.356, 43.2562), (-47.752, 43.2562))
            ThreePointArc((-47.752, 43.2562), (-47.45442049, 43.97462049), (-46.736, 44.2722))
            Line((-46.736, 44.2722), (-46.736, 50.8762))
            ThreePointArc((-46.736, 50.8762), (-52.124153673, 48.644353673), (-54.356, 43.2562))
        make_face()
        with Locations((0, 47.5742)):
            Rectangle(SKETCH23_W, SKETCH23_H)
        with Locations((-51.054, 0)):
            Rectangle(SKETCH23_W_2, SKETCH23_H_2)
        with BuildLine():
            Line((46.736, 50.8762), (46.736, 44.2722))
            ThreePointArc((46.736, 44.2722), (47.442019638, 43.962219638), (47.752, 43.2562))
            Line((47.752, 43.2562), (54.356, 43.2562))
            ThreePointArc((54.356, 43.2562), (52.124153673, 48.644353673), (46.736, 50.8762))
        make_face()
        with BuildLine():
            Line((54.356, 43.2562), (47.752, 43.2562))
            ThreePointArc((47.752, 43.2562), (47.752937434, 43.211597678), (47.752, 43.166995356))
            Line((47.752, 43.166995356), (47.752, -43.2562))
            Line((47.752, -43.2562), (54.356, -43.2562))
            Line((54.356, -43.2562), (54.356, 43.2562))
        make_face()
        with BuildLine():
            Line((54.356, -43.2562), (47.752, -43.2562))
            ThreePointArc((47.752, -43.2562), (47.45442049, -43.97462049), (46.736, -44.2722))
            Line((46.736, -44.2722), (46.736, -50.8762))
            ThreePointArc((46.736, -50.8762), (52.124153673, -48.644353673), (54.356, -43.2562))
        make_face()
        with Locations((0, -47.5742)):
            Rectangle(SKETCH23_W, SKETCH23_H)
        with BuildLine():
            Line((-46.736, -50.8762), (-46.736, -44.2722))
            ThreePointArc((-46.736, -44.2722), (-47.45442049, -43.97462049), (-47.752, -43.2562))
            Line((-47.752, -43.2562), (-54.356, -43.2562))
            ThreePointArc((-54.356, -43.2562), (-52.124153673, -48.644353673), (-46.736, -50.8762))
        make_face()
    extrude(amount=-CUT_EXTRUDE10_DEPTH, mode=Mode.SUBTRACT)

    # Sketch29 → Boss-Extrude4 (add)
    with BuildSketch(Plane(origin=(0, 19.05, 0), x_dir=(1, 0, 0), z_dir=(0, 1, 0))):
        Rectangle(SKETCH29_W, SKETCH29_H)
        Rectangle(SKETCH29_W_2, SKETCH29_H_2, mode=Mode.SUBTRACT)
    extrude(amount=-BOSS_EXTRUDE4_DEPTH)

    # Sketch30 → Boss-Extrude5 (add)
    with BuildSketch(Plane.XZ.offset(-3.1115)):
        Rectangle(SKETCH30_W, SKETCH30_H)
        with BuildLine():
            Line((-46.736, 50.8762), (46.736, 50.8762))
            ThreePointArc((46.736, 50.8762), (52.124153673, 48.644353673), (54.356, 43.2562))
            Line((54.356, 43.2562), (54.356, -43.2562))
            ThreePointArc((54.356, -43.2562), (52.124153673, -48.644353673), (46.736, -50.8762))
            Line((46.736, -50.8762), (-46.736, -50.8762))
            ThreePointArc((-46.736, -50.8762), (-52.124153673, -48.644353673), (-54.356, -43.2562))
            Line((-54.356, -43.2562), (-54.356, 43.2562))
            ThreePointArc((-54.356, 43.2562), (-52.124153673, 48.644353673), (-46.736, 50.8762))
        make_face(mode=Mode.SUBTRACT)
    extrude(amount=BOSS_EXTRUDE5_DEPTH)

    # Sketch34 → Cut-Extrude12 (cut, through all)
    with BuildSketch(Plane(origin=(0, 19.05, 0), x_dir=(1, 0, 0), z_dir=(0, 1, 0))):
        with Locations((0, -74.40803)):
            Rectangle(SKETCH34_W, SKETCH34_H)
        with Locations((0, 74.40803)):
            Rectangle(SKETCH34_W, SKETCH34_H)
    extrude(amount=-CUT_EXTRUDE12_DEPTH, mode=Mode.SUBTRACT)

    # Fillet4
    fillet4_edges = [part.edges().sort_by_distance(p)[0] for p in [
        (-82.931, 2.83972, 0),
        (82.931, 2.83972, 0),
        (0, 2.83972, 69.36486),
        (-82.931, 10.94486, 69.36486),
        (82.931, 10.94486, 69.36486),
        (0, 2.83972, -69.36486),
        (82.931, 10.94486, -69.36486),
        (-82.931, 10.94486, -69.36486),
    ]]
    fillet(fillet4_edges, radius=FILLET4_R)

    # CBORE for #6 Socket Head Cap Screw1 (through all)
    with Locations(Plane(origin=(0, 2.83972, 0), x_dir=(-1, 0, 0), z_dir=(0, -1, 0))):
        with Locations((76.581, -50.8), (76.581, 0), (76.581, 50.8)):
            cbore_for_6_socket_head_cap_screw1 = CounterBoreHole(CBORE_FOR_6_SOCKET_HEAD_CAP_SCREW1_D / 2, CBORE_FOR_6_SOCKET_HEAD_CAP_SCREW1_CBORE_D / 2, CBORE_FOR_6_SOCKET_HEAD_CAP_SCREW1_CBORE_DEPTH)

    # Mirror3: CBORE for #6 Socket Head Cap Screw1 across plane
    add(cbore_for_6_socket_head_cap_screw1.mirror(Plane(origin=(0, 0, 0), x_dir=(0, 0, 1), z_dir=(1, 0, 0))), mode=Mode.SUBTRACT)


solid = part.part
